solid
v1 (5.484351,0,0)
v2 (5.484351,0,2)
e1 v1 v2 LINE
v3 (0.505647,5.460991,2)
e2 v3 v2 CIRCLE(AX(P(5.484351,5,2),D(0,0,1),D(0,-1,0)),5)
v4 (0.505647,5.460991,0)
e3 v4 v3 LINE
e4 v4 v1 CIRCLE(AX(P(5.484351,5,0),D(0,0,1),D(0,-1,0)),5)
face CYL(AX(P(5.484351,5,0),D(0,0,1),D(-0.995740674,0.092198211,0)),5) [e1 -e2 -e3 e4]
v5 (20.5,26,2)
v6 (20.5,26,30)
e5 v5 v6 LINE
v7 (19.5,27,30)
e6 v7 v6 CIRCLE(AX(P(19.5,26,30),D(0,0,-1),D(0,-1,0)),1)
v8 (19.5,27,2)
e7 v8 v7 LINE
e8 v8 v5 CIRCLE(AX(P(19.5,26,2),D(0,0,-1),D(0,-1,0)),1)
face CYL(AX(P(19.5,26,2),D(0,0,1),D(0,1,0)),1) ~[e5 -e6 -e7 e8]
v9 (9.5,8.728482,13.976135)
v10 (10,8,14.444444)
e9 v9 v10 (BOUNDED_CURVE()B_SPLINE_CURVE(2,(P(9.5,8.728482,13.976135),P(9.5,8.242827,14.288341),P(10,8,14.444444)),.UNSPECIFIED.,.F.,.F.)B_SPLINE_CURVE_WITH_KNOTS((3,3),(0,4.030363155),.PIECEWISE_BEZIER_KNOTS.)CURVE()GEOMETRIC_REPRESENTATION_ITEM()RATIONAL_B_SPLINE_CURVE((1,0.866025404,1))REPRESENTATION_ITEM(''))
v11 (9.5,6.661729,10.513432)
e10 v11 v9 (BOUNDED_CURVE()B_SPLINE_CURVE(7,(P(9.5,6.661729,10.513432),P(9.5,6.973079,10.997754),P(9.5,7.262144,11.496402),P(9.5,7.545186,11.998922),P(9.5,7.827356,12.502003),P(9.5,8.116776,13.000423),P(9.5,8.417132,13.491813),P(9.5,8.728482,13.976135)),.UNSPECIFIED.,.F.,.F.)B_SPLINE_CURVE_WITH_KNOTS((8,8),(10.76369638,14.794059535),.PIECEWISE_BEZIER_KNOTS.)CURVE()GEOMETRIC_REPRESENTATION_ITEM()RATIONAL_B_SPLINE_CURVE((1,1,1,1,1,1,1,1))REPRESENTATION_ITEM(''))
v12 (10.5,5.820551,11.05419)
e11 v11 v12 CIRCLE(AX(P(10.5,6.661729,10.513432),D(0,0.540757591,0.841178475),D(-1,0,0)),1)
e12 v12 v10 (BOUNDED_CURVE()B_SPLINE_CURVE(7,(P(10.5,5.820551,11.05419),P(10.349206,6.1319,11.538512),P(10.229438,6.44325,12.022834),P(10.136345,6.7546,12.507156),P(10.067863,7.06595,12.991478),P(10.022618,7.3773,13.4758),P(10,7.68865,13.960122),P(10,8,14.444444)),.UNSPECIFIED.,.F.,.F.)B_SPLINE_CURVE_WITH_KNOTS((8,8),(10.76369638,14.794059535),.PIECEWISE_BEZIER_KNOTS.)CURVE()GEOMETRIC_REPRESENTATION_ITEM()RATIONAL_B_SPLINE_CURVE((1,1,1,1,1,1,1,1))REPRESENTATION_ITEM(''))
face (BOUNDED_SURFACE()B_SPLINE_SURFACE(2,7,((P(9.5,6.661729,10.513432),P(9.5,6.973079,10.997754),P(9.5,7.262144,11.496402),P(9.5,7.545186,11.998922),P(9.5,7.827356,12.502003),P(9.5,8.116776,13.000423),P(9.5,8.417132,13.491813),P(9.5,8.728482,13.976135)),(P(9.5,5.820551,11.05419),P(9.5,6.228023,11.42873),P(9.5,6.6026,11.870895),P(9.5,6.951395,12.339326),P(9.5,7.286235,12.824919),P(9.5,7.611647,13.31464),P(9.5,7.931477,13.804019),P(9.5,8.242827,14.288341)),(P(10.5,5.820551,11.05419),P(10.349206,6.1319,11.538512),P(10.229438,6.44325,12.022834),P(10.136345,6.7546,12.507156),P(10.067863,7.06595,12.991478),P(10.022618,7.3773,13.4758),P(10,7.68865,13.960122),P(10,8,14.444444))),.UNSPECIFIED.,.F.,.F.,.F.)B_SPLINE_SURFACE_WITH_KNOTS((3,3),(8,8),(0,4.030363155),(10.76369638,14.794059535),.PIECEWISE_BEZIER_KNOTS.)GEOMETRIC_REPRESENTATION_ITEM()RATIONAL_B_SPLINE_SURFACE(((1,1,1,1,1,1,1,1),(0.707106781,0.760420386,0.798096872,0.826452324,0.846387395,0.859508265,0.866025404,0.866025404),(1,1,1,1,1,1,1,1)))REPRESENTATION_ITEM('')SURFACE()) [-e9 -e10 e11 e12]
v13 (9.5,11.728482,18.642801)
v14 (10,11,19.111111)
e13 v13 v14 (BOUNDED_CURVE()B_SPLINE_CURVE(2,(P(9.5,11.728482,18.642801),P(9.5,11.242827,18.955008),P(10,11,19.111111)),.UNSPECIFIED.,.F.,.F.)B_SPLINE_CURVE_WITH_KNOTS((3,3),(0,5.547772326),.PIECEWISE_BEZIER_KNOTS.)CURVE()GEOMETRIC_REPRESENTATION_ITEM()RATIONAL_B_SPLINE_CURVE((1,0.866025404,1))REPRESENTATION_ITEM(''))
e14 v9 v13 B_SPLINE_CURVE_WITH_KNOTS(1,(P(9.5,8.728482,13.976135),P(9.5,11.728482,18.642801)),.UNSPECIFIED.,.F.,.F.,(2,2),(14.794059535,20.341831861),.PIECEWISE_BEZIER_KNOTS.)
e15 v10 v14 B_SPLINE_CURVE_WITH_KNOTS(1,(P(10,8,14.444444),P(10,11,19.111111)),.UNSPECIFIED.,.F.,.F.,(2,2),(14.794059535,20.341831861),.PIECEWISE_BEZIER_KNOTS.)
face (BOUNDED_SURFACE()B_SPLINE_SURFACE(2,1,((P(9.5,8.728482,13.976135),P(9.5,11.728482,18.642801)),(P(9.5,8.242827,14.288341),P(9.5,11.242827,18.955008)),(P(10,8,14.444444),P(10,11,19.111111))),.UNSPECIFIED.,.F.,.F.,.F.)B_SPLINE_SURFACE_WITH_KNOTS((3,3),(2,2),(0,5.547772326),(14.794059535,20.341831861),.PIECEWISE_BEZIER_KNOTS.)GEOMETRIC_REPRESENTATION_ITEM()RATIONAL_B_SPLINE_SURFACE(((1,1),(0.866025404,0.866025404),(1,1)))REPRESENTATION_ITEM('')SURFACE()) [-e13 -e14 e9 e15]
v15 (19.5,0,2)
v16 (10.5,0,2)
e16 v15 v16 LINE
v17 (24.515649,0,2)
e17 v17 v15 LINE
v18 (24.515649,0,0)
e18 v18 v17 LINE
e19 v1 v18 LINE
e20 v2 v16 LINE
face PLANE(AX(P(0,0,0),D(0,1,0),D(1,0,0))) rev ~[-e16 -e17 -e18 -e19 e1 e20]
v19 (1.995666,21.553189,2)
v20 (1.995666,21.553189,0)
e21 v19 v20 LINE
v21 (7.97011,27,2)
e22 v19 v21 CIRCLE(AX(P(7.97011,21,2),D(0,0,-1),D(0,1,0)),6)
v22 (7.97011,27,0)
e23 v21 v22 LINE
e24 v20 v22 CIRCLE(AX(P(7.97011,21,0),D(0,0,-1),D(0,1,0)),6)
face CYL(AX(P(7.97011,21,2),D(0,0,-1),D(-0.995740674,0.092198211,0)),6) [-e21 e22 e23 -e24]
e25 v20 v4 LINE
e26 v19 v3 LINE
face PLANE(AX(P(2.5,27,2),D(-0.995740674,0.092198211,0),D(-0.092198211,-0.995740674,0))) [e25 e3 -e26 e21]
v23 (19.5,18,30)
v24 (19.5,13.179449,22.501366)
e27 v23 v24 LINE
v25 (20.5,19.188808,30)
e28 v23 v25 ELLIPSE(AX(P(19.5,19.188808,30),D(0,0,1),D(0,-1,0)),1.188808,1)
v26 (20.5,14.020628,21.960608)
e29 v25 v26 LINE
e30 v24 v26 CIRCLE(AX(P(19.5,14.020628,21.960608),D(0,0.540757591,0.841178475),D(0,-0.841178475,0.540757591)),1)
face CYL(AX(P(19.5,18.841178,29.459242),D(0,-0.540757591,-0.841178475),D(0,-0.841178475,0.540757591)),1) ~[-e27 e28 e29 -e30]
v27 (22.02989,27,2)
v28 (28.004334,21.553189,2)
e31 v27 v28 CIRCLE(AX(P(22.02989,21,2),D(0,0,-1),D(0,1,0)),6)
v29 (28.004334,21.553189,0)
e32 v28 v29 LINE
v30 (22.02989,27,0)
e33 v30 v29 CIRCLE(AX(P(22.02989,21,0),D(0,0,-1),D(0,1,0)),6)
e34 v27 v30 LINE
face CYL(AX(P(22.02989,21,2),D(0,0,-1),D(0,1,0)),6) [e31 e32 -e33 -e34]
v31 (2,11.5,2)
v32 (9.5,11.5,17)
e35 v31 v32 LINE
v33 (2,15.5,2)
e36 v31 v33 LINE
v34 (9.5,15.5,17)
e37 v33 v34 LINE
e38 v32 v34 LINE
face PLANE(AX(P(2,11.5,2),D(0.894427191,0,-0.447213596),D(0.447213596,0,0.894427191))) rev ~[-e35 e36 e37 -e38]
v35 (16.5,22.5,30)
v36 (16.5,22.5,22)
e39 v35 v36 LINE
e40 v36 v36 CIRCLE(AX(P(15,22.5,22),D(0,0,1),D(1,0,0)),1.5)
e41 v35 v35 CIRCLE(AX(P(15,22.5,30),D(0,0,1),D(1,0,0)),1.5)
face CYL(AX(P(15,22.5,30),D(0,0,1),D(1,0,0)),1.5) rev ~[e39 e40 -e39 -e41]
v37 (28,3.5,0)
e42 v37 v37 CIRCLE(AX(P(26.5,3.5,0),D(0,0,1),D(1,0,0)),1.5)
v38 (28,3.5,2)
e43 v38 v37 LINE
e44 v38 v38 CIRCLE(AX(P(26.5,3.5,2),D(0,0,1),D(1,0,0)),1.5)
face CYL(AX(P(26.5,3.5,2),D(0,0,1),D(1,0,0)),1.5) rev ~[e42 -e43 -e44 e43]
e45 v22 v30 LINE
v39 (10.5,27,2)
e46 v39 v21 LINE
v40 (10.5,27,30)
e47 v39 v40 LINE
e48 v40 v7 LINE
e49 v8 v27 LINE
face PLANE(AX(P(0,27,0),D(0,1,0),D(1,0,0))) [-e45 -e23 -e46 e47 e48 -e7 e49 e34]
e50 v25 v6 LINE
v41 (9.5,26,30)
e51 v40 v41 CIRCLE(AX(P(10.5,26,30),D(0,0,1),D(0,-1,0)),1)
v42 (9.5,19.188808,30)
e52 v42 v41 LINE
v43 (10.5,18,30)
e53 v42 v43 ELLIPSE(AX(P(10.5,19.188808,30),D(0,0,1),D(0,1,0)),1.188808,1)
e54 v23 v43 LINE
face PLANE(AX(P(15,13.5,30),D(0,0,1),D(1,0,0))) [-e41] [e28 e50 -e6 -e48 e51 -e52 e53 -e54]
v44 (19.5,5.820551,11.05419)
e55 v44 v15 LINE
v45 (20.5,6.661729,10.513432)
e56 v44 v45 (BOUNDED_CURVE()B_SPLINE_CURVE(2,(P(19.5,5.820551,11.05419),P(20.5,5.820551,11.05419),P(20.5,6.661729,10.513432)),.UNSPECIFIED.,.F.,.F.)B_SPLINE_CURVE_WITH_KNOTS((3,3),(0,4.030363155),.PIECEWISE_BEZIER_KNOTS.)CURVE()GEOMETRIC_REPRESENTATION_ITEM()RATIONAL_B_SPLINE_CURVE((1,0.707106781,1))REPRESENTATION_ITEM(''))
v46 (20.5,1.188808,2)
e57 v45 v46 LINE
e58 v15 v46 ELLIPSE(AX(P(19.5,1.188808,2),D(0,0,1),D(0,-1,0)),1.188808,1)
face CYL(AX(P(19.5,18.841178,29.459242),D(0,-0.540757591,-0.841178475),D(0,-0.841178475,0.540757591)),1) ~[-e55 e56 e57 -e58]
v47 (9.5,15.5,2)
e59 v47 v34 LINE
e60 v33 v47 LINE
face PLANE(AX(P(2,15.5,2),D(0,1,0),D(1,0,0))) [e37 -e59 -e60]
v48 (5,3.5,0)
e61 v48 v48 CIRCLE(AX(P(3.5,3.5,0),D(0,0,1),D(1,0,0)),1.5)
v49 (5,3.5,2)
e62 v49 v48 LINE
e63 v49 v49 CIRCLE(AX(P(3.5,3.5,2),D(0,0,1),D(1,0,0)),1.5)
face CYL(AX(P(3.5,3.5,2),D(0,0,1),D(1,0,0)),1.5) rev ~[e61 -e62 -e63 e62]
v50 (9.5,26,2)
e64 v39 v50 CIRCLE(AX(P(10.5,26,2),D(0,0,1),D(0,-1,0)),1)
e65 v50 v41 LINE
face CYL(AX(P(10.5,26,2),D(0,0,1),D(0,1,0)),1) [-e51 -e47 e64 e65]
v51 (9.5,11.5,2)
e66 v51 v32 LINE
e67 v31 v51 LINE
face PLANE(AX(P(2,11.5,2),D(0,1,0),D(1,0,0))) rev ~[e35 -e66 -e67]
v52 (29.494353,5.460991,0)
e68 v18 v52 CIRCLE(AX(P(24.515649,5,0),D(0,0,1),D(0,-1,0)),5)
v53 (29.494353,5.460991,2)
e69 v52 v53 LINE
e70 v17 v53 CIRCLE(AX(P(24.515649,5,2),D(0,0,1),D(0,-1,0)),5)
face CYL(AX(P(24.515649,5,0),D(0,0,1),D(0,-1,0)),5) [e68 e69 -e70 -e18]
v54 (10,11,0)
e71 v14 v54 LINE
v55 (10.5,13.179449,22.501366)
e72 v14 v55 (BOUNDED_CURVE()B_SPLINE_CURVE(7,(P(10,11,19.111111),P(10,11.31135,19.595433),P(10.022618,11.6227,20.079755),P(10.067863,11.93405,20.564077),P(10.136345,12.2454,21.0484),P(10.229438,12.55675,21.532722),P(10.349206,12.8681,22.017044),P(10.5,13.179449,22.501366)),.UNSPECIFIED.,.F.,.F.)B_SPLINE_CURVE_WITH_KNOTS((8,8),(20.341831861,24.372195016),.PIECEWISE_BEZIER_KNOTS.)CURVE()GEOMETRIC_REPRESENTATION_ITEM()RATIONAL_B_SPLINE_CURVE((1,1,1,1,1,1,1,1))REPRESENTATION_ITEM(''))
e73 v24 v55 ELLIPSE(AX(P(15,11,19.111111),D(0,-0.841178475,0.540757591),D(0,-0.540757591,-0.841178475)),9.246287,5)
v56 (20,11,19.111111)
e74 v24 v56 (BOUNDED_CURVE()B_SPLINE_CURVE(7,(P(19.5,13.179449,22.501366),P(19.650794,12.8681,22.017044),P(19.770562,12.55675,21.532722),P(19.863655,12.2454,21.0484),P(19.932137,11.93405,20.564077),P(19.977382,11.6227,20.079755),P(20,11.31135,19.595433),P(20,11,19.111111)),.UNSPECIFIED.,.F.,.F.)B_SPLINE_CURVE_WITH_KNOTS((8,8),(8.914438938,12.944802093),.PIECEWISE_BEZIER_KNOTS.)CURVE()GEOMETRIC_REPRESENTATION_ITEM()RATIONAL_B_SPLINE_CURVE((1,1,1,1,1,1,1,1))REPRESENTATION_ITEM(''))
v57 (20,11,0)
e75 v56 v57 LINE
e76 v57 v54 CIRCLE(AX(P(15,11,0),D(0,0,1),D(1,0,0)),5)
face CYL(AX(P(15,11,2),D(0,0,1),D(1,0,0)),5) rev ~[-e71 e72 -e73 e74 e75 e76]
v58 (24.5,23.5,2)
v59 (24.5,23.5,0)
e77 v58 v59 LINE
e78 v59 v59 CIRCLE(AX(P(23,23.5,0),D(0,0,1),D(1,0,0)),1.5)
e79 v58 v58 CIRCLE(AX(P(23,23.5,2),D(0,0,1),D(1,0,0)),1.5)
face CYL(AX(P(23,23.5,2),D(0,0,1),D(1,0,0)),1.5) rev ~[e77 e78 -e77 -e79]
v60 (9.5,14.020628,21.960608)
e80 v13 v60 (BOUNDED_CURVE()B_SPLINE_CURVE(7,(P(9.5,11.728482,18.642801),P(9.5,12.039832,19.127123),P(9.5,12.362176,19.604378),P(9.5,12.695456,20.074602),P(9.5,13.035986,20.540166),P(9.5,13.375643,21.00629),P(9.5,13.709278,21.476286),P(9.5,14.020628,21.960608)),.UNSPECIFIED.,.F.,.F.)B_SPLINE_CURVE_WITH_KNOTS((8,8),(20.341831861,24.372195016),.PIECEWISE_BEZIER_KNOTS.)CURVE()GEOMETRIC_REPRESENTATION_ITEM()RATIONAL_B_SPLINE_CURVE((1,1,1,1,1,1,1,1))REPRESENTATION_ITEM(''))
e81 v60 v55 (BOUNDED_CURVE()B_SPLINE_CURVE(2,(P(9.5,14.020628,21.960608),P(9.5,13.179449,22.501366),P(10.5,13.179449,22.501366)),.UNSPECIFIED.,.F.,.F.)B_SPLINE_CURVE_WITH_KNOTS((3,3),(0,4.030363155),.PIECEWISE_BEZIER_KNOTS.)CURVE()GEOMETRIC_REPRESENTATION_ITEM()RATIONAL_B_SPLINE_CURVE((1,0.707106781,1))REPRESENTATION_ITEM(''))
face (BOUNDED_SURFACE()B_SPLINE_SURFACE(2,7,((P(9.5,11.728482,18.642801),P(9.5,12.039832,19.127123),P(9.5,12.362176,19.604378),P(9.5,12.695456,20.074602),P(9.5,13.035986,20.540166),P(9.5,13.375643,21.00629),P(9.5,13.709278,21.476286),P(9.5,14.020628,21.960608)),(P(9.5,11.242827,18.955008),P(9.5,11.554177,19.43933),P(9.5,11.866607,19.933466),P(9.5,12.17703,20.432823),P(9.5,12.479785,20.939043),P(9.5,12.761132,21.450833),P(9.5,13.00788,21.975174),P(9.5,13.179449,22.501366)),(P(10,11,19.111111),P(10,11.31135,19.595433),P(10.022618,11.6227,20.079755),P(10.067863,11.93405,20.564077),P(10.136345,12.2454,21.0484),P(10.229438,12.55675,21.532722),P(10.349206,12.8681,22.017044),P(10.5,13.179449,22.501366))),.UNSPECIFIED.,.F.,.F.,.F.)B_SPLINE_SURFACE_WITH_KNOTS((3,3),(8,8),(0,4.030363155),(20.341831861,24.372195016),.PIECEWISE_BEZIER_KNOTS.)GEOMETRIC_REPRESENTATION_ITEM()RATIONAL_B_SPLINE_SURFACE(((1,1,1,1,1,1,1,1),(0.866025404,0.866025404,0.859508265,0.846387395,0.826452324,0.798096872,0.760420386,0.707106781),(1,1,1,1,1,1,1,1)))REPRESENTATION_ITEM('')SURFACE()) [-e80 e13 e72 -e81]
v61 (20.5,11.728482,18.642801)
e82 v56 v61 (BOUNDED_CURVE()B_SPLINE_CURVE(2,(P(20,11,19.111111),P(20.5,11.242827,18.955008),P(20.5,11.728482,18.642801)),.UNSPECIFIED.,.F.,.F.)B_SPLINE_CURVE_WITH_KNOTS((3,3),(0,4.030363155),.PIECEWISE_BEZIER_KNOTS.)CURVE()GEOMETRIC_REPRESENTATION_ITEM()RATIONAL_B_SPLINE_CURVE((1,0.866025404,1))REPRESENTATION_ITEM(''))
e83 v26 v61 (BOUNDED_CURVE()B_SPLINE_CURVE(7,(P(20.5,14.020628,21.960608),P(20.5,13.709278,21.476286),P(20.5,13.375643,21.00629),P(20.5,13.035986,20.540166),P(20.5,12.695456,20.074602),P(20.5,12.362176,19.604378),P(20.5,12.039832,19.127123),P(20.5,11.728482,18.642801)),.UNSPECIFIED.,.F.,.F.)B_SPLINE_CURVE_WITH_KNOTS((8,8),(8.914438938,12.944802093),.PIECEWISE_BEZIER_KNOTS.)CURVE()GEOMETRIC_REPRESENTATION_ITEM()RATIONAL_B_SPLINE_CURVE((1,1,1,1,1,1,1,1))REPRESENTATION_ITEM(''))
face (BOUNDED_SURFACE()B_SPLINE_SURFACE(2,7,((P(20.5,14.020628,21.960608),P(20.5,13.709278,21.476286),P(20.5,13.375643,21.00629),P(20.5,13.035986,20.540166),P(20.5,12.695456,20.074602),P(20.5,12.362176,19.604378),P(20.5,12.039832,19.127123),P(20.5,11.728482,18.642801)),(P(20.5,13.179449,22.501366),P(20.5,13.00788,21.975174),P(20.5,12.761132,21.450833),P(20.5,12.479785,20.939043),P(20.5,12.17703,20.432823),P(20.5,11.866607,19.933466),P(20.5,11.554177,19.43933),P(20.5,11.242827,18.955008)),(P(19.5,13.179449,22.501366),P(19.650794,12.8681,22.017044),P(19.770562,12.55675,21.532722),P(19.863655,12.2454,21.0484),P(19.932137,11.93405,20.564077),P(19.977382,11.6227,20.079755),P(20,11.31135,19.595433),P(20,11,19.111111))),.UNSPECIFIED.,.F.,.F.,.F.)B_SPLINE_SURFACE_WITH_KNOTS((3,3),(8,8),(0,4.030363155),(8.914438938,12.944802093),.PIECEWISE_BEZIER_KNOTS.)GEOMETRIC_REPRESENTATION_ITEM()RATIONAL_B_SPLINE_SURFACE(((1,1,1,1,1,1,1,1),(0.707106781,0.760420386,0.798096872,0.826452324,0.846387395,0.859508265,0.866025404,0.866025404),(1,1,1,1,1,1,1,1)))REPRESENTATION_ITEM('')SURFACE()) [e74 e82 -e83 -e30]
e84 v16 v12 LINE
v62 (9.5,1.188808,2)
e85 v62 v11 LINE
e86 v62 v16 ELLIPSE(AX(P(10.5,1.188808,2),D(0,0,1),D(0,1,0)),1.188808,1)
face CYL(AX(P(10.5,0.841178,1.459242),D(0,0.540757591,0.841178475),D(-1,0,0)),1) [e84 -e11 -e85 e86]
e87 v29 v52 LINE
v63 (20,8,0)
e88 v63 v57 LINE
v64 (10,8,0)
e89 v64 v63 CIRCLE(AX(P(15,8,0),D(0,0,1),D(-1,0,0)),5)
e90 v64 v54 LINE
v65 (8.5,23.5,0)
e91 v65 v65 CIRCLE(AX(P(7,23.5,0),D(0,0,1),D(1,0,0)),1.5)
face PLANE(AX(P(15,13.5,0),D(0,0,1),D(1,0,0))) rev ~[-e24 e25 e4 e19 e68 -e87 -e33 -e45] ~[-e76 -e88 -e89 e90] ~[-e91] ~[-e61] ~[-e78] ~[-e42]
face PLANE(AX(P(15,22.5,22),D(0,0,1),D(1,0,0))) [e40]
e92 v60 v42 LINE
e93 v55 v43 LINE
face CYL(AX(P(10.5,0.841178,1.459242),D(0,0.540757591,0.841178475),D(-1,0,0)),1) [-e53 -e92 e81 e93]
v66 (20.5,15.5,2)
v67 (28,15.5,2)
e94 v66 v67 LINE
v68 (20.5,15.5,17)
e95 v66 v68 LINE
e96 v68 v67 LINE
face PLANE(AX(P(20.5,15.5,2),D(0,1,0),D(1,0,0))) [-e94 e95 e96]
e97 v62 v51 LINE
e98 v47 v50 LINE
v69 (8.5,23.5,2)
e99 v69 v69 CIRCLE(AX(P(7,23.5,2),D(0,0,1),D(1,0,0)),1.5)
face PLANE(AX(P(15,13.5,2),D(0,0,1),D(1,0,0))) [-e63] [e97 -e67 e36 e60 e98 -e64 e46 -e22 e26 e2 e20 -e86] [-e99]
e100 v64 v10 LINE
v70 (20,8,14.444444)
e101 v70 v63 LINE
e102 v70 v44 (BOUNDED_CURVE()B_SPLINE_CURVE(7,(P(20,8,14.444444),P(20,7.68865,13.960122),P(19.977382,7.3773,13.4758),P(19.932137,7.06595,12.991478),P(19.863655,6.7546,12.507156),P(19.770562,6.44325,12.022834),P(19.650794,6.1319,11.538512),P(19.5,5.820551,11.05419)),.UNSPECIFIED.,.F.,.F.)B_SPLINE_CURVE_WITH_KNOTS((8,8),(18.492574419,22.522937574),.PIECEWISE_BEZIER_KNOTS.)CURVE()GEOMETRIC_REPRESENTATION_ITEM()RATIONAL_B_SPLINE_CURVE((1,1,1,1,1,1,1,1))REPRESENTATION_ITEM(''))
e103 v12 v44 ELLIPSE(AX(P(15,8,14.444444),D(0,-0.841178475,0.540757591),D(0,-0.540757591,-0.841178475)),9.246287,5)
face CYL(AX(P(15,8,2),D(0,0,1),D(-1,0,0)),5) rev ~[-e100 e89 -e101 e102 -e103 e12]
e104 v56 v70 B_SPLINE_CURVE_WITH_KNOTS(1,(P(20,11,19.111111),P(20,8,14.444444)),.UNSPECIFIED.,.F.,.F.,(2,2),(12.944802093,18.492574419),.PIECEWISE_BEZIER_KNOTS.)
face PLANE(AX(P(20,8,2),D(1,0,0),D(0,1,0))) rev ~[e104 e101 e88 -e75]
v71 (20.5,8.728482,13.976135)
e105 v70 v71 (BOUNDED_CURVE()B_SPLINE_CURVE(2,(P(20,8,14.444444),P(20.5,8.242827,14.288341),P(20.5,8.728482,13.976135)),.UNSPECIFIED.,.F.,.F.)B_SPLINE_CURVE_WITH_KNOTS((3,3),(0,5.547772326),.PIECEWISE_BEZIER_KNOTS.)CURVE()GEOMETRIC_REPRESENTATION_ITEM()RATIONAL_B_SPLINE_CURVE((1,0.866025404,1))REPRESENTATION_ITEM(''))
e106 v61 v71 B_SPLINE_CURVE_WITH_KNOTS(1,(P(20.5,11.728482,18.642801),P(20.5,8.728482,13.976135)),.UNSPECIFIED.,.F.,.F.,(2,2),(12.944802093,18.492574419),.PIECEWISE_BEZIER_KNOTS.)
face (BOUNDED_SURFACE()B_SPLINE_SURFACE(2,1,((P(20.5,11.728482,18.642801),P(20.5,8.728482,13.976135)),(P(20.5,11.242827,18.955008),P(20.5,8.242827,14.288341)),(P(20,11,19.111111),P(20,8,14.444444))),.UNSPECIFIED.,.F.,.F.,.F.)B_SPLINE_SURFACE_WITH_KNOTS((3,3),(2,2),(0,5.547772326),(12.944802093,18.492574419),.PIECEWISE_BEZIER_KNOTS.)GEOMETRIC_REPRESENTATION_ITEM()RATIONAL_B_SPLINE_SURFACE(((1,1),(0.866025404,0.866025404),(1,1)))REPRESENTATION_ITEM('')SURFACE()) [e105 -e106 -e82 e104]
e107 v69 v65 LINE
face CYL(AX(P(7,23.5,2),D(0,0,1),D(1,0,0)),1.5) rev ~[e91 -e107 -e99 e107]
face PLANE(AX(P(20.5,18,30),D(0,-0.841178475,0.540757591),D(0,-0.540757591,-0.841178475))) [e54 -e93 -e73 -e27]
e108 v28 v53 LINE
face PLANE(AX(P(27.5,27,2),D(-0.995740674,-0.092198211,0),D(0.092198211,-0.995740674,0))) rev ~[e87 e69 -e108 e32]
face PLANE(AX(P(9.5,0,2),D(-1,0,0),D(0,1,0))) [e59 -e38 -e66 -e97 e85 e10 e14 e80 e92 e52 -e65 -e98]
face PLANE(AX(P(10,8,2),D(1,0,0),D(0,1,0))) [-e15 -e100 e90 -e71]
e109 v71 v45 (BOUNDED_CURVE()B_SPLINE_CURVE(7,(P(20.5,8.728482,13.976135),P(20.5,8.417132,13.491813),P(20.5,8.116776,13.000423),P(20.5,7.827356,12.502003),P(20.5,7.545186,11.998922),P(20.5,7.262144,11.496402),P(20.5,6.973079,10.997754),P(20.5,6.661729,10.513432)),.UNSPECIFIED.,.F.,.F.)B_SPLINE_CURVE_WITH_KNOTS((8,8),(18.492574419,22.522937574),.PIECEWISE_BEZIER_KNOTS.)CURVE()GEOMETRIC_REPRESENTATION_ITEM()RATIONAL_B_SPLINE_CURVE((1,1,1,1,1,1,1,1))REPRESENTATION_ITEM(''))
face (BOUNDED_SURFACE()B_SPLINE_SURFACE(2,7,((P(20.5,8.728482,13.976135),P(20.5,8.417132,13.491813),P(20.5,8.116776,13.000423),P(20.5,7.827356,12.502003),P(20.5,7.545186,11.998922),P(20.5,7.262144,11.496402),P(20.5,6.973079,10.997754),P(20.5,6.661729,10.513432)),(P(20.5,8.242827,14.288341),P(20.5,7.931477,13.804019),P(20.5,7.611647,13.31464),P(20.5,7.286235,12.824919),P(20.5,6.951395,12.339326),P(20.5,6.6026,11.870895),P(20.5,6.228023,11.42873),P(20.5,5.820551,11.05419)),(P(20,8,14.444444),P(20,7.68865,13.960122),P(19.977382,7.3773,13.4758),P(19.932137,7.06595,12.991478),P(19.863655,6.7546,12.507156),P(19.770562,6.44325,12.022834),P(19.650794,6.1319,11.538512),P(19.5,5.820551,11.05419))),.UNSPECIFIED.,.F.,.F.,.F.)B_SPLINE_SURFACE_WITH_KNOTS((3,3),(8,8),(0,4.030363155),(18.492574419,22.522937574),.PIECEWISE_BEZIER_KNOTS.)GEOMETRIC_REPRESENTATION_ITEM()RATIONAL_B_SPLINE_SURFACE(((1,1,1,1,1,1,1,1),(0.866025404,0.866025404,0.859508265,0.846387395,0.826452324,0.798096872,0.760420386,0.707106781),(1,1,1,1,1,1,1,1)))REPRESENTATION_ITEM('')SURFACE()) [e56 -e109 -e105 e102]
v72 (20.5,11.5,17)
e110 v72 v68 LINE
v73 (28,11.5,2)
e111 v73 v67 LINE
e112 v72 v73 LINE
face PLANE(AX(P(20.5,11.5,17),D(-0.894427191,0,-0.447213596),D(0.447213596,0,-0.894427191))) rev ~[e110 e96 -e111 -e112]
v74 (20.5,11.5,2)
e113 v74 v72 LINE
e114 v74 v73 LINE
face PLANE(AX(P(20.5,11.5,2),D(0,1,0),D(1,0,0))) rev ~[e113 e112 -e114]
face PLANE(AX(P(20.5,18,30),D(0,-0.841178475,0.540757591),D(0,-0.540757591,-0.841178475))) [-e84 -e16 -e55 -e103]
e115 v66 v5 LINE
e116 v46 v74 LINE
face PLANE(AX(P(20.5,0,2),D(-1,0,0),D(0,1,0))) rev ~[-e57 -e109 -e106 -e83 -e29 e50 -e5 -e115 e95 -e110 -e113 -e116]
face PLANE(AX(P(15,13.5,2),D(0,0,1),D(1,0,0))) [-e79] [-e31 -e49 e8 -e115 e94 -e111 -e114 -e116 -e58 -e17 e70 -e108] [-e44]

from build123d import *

# Parameters (mm, degrees)
SKETCH_W        = 30
SKETCH_H        = 27
PAD_DEPTH       = 2
SKETCH002_W     = 11
SKETCH002_H     = 27
PAD001_DEPTH    = 28
SKETCH001_R     = 1.5
POCKET001_DEPTH = 2.001
POCKET_DEPTH    = 20.501
POCKET002_DEPTH = 28.001
FILLET_R        = 6
FILLET001_R     = 5
FILLET002_R     = 1
SKETCH005_R     = 1.5
POCKET003_DEPTH = 8
SKETCH006_W     = 7.5
SKETCH006_H     = 4
PAD002_DEPTH    = 15
POCKET004_DEPTH = 4


with BuildPart() as part:
    # Sketch → Pad (new body)
    with BuildSketch(Plane.XY):
        with Locations((15, 13.5)):
            Rectangle(SKETCH_W, SKETCH_H)
    extrude(amount=PAD_DEPTH)

    # Sketch002 (on Face6 of Pad) → Pad001 (join)
    with BuildSketch(Plane.XY.offset(2)):
        with Locations((15, 13.5)):
            Rectangle(SKETCH002_W, SKETCH002_H)
    extrude(amount=PAD001_DEPTH)

    # Sketch001 (on Face6 of Pad) → Pocket001 (cut, through all)
    with BuildSketch(Plane.XY.offset(2)):
        with Locations((3.5, 3.5)):
            Circle(SKETCH001_R)
        with Locations((26.5, 3.5)):
            Circle(SKETCH001_R)
        with Locations((23, 23.5)):
            Circle(SKETCH001_R)
        with Locations((7, 23.5)):
            Circle(SKETCH001_R)
        Polygon((0, 0), (0, 27), (2.5, 27), align=None)
        Polygon((30, 0), (30, 27), (27.5, 27), align=None)
        with BuildLine():
            ThreePointArc((10, 8), (15, 3), (20, 8))
            Line((20, 8), (20, 11))
            ThreePointArc((20, 11), (15, 16), (10, 11))
            Line((10, 8), (10, 11))
        make_face()
    extrude(amount=-POCKET001_DEPTH, mode=Mode.SUBTRACT)

    # Sketch003 (on Face11 of Pad001) → Pocket (cut, through all)
    with BuildSketch(Plane.YZ.offset(20.5)):
        Polygon((0, 30), (18, 30), (0, 2), align=None)
    extrude(amount=-POCKET_DEPTH, mode=Mode.SUBTRACT)

    # Sketch004 (on Face21 of Pocket) → Pocket002 (cut, through all)
    with BuildSketch(Plane(origin=(0, 0, 2), x_dir=(1, 0, 0), z_dir=(0, 0, -1))):
        with BuildLine():
            ThreePointArc((10, -11), (15, -16), (20, -11))
            Line((20, -11), (20, -8))
            ThreePointArc((20, -8), (15, -3), (10, -8))
            Line((10, -11), (10, -8))
        make_face()
    extrude(amount=-POCKET002_DEPTH, mode=Mode.SUBTRACT)

    # Fillet
    fillet_edges = [part.edges().sort_by_distance(p)[0] for p in [
        (27.5, 27, 1),
        (2.5, 27, 1),
    ]]
    fillet(fillet_edges, radius=FILLET_R)

    # Fillet001
    fillet001_edges = [part.edges().sort_by_distance(p)[0] for p in [
        (30, 0, 1),
        (0, 0, 1),
    ]]
    fillet(fillet001_edges, radius=FILLET001_R)

    # Fillet002
    fillet002_edges = [part.edges().sort_by_distance(p)[0] for p in [
        (20.5, 27, 16),
        (9.5, 27, 16),
        (20.5, 9, 16),
        (9.5, 9, 16),
    ]]
    fillet(fillet002_edges, radius=FILLET002_R)

    # Sketch005 (on Face19 of Pocket002) → Pocket003 (cut)
    with BuildSketch(Plane.XY.offset(30)):
        with Locations((15, 22.5)):
            Circle(SKETCH005_R)
    extrude(amount=-POCKET003_DEPTH, mode=Mode.SUBTRACT)

    # Sketch006 (on Face1 of Pocket003) → Pad002 (join)
    with BuildSketch(Plane.XY.offset(2)):
        with Locations((5.75, 13.5)):
            Rectangle(SKETCH006_W, SKETCH006_H)
        with Locations((24.25, 13.5)):
            Rectangle(SKETCH006_W, SKETCH006_H)
    extrude(amount=PAD002_DEPTH)

    # Sketch007 (on Face14 of Pad002) → Pocket004 (cut)
    with BuildSketch(Plane.XZ.offset(-11.5)):
        Polygon((2, 2), (9.5, 17), (2, 17), align=None)
        Polygon((20.5, 17), (28, 2), (28, 17), align=None)
    extrude(amount=-POCKET004_DEPTH, mode=Mode.SUBTRACT)


solid = part.part
